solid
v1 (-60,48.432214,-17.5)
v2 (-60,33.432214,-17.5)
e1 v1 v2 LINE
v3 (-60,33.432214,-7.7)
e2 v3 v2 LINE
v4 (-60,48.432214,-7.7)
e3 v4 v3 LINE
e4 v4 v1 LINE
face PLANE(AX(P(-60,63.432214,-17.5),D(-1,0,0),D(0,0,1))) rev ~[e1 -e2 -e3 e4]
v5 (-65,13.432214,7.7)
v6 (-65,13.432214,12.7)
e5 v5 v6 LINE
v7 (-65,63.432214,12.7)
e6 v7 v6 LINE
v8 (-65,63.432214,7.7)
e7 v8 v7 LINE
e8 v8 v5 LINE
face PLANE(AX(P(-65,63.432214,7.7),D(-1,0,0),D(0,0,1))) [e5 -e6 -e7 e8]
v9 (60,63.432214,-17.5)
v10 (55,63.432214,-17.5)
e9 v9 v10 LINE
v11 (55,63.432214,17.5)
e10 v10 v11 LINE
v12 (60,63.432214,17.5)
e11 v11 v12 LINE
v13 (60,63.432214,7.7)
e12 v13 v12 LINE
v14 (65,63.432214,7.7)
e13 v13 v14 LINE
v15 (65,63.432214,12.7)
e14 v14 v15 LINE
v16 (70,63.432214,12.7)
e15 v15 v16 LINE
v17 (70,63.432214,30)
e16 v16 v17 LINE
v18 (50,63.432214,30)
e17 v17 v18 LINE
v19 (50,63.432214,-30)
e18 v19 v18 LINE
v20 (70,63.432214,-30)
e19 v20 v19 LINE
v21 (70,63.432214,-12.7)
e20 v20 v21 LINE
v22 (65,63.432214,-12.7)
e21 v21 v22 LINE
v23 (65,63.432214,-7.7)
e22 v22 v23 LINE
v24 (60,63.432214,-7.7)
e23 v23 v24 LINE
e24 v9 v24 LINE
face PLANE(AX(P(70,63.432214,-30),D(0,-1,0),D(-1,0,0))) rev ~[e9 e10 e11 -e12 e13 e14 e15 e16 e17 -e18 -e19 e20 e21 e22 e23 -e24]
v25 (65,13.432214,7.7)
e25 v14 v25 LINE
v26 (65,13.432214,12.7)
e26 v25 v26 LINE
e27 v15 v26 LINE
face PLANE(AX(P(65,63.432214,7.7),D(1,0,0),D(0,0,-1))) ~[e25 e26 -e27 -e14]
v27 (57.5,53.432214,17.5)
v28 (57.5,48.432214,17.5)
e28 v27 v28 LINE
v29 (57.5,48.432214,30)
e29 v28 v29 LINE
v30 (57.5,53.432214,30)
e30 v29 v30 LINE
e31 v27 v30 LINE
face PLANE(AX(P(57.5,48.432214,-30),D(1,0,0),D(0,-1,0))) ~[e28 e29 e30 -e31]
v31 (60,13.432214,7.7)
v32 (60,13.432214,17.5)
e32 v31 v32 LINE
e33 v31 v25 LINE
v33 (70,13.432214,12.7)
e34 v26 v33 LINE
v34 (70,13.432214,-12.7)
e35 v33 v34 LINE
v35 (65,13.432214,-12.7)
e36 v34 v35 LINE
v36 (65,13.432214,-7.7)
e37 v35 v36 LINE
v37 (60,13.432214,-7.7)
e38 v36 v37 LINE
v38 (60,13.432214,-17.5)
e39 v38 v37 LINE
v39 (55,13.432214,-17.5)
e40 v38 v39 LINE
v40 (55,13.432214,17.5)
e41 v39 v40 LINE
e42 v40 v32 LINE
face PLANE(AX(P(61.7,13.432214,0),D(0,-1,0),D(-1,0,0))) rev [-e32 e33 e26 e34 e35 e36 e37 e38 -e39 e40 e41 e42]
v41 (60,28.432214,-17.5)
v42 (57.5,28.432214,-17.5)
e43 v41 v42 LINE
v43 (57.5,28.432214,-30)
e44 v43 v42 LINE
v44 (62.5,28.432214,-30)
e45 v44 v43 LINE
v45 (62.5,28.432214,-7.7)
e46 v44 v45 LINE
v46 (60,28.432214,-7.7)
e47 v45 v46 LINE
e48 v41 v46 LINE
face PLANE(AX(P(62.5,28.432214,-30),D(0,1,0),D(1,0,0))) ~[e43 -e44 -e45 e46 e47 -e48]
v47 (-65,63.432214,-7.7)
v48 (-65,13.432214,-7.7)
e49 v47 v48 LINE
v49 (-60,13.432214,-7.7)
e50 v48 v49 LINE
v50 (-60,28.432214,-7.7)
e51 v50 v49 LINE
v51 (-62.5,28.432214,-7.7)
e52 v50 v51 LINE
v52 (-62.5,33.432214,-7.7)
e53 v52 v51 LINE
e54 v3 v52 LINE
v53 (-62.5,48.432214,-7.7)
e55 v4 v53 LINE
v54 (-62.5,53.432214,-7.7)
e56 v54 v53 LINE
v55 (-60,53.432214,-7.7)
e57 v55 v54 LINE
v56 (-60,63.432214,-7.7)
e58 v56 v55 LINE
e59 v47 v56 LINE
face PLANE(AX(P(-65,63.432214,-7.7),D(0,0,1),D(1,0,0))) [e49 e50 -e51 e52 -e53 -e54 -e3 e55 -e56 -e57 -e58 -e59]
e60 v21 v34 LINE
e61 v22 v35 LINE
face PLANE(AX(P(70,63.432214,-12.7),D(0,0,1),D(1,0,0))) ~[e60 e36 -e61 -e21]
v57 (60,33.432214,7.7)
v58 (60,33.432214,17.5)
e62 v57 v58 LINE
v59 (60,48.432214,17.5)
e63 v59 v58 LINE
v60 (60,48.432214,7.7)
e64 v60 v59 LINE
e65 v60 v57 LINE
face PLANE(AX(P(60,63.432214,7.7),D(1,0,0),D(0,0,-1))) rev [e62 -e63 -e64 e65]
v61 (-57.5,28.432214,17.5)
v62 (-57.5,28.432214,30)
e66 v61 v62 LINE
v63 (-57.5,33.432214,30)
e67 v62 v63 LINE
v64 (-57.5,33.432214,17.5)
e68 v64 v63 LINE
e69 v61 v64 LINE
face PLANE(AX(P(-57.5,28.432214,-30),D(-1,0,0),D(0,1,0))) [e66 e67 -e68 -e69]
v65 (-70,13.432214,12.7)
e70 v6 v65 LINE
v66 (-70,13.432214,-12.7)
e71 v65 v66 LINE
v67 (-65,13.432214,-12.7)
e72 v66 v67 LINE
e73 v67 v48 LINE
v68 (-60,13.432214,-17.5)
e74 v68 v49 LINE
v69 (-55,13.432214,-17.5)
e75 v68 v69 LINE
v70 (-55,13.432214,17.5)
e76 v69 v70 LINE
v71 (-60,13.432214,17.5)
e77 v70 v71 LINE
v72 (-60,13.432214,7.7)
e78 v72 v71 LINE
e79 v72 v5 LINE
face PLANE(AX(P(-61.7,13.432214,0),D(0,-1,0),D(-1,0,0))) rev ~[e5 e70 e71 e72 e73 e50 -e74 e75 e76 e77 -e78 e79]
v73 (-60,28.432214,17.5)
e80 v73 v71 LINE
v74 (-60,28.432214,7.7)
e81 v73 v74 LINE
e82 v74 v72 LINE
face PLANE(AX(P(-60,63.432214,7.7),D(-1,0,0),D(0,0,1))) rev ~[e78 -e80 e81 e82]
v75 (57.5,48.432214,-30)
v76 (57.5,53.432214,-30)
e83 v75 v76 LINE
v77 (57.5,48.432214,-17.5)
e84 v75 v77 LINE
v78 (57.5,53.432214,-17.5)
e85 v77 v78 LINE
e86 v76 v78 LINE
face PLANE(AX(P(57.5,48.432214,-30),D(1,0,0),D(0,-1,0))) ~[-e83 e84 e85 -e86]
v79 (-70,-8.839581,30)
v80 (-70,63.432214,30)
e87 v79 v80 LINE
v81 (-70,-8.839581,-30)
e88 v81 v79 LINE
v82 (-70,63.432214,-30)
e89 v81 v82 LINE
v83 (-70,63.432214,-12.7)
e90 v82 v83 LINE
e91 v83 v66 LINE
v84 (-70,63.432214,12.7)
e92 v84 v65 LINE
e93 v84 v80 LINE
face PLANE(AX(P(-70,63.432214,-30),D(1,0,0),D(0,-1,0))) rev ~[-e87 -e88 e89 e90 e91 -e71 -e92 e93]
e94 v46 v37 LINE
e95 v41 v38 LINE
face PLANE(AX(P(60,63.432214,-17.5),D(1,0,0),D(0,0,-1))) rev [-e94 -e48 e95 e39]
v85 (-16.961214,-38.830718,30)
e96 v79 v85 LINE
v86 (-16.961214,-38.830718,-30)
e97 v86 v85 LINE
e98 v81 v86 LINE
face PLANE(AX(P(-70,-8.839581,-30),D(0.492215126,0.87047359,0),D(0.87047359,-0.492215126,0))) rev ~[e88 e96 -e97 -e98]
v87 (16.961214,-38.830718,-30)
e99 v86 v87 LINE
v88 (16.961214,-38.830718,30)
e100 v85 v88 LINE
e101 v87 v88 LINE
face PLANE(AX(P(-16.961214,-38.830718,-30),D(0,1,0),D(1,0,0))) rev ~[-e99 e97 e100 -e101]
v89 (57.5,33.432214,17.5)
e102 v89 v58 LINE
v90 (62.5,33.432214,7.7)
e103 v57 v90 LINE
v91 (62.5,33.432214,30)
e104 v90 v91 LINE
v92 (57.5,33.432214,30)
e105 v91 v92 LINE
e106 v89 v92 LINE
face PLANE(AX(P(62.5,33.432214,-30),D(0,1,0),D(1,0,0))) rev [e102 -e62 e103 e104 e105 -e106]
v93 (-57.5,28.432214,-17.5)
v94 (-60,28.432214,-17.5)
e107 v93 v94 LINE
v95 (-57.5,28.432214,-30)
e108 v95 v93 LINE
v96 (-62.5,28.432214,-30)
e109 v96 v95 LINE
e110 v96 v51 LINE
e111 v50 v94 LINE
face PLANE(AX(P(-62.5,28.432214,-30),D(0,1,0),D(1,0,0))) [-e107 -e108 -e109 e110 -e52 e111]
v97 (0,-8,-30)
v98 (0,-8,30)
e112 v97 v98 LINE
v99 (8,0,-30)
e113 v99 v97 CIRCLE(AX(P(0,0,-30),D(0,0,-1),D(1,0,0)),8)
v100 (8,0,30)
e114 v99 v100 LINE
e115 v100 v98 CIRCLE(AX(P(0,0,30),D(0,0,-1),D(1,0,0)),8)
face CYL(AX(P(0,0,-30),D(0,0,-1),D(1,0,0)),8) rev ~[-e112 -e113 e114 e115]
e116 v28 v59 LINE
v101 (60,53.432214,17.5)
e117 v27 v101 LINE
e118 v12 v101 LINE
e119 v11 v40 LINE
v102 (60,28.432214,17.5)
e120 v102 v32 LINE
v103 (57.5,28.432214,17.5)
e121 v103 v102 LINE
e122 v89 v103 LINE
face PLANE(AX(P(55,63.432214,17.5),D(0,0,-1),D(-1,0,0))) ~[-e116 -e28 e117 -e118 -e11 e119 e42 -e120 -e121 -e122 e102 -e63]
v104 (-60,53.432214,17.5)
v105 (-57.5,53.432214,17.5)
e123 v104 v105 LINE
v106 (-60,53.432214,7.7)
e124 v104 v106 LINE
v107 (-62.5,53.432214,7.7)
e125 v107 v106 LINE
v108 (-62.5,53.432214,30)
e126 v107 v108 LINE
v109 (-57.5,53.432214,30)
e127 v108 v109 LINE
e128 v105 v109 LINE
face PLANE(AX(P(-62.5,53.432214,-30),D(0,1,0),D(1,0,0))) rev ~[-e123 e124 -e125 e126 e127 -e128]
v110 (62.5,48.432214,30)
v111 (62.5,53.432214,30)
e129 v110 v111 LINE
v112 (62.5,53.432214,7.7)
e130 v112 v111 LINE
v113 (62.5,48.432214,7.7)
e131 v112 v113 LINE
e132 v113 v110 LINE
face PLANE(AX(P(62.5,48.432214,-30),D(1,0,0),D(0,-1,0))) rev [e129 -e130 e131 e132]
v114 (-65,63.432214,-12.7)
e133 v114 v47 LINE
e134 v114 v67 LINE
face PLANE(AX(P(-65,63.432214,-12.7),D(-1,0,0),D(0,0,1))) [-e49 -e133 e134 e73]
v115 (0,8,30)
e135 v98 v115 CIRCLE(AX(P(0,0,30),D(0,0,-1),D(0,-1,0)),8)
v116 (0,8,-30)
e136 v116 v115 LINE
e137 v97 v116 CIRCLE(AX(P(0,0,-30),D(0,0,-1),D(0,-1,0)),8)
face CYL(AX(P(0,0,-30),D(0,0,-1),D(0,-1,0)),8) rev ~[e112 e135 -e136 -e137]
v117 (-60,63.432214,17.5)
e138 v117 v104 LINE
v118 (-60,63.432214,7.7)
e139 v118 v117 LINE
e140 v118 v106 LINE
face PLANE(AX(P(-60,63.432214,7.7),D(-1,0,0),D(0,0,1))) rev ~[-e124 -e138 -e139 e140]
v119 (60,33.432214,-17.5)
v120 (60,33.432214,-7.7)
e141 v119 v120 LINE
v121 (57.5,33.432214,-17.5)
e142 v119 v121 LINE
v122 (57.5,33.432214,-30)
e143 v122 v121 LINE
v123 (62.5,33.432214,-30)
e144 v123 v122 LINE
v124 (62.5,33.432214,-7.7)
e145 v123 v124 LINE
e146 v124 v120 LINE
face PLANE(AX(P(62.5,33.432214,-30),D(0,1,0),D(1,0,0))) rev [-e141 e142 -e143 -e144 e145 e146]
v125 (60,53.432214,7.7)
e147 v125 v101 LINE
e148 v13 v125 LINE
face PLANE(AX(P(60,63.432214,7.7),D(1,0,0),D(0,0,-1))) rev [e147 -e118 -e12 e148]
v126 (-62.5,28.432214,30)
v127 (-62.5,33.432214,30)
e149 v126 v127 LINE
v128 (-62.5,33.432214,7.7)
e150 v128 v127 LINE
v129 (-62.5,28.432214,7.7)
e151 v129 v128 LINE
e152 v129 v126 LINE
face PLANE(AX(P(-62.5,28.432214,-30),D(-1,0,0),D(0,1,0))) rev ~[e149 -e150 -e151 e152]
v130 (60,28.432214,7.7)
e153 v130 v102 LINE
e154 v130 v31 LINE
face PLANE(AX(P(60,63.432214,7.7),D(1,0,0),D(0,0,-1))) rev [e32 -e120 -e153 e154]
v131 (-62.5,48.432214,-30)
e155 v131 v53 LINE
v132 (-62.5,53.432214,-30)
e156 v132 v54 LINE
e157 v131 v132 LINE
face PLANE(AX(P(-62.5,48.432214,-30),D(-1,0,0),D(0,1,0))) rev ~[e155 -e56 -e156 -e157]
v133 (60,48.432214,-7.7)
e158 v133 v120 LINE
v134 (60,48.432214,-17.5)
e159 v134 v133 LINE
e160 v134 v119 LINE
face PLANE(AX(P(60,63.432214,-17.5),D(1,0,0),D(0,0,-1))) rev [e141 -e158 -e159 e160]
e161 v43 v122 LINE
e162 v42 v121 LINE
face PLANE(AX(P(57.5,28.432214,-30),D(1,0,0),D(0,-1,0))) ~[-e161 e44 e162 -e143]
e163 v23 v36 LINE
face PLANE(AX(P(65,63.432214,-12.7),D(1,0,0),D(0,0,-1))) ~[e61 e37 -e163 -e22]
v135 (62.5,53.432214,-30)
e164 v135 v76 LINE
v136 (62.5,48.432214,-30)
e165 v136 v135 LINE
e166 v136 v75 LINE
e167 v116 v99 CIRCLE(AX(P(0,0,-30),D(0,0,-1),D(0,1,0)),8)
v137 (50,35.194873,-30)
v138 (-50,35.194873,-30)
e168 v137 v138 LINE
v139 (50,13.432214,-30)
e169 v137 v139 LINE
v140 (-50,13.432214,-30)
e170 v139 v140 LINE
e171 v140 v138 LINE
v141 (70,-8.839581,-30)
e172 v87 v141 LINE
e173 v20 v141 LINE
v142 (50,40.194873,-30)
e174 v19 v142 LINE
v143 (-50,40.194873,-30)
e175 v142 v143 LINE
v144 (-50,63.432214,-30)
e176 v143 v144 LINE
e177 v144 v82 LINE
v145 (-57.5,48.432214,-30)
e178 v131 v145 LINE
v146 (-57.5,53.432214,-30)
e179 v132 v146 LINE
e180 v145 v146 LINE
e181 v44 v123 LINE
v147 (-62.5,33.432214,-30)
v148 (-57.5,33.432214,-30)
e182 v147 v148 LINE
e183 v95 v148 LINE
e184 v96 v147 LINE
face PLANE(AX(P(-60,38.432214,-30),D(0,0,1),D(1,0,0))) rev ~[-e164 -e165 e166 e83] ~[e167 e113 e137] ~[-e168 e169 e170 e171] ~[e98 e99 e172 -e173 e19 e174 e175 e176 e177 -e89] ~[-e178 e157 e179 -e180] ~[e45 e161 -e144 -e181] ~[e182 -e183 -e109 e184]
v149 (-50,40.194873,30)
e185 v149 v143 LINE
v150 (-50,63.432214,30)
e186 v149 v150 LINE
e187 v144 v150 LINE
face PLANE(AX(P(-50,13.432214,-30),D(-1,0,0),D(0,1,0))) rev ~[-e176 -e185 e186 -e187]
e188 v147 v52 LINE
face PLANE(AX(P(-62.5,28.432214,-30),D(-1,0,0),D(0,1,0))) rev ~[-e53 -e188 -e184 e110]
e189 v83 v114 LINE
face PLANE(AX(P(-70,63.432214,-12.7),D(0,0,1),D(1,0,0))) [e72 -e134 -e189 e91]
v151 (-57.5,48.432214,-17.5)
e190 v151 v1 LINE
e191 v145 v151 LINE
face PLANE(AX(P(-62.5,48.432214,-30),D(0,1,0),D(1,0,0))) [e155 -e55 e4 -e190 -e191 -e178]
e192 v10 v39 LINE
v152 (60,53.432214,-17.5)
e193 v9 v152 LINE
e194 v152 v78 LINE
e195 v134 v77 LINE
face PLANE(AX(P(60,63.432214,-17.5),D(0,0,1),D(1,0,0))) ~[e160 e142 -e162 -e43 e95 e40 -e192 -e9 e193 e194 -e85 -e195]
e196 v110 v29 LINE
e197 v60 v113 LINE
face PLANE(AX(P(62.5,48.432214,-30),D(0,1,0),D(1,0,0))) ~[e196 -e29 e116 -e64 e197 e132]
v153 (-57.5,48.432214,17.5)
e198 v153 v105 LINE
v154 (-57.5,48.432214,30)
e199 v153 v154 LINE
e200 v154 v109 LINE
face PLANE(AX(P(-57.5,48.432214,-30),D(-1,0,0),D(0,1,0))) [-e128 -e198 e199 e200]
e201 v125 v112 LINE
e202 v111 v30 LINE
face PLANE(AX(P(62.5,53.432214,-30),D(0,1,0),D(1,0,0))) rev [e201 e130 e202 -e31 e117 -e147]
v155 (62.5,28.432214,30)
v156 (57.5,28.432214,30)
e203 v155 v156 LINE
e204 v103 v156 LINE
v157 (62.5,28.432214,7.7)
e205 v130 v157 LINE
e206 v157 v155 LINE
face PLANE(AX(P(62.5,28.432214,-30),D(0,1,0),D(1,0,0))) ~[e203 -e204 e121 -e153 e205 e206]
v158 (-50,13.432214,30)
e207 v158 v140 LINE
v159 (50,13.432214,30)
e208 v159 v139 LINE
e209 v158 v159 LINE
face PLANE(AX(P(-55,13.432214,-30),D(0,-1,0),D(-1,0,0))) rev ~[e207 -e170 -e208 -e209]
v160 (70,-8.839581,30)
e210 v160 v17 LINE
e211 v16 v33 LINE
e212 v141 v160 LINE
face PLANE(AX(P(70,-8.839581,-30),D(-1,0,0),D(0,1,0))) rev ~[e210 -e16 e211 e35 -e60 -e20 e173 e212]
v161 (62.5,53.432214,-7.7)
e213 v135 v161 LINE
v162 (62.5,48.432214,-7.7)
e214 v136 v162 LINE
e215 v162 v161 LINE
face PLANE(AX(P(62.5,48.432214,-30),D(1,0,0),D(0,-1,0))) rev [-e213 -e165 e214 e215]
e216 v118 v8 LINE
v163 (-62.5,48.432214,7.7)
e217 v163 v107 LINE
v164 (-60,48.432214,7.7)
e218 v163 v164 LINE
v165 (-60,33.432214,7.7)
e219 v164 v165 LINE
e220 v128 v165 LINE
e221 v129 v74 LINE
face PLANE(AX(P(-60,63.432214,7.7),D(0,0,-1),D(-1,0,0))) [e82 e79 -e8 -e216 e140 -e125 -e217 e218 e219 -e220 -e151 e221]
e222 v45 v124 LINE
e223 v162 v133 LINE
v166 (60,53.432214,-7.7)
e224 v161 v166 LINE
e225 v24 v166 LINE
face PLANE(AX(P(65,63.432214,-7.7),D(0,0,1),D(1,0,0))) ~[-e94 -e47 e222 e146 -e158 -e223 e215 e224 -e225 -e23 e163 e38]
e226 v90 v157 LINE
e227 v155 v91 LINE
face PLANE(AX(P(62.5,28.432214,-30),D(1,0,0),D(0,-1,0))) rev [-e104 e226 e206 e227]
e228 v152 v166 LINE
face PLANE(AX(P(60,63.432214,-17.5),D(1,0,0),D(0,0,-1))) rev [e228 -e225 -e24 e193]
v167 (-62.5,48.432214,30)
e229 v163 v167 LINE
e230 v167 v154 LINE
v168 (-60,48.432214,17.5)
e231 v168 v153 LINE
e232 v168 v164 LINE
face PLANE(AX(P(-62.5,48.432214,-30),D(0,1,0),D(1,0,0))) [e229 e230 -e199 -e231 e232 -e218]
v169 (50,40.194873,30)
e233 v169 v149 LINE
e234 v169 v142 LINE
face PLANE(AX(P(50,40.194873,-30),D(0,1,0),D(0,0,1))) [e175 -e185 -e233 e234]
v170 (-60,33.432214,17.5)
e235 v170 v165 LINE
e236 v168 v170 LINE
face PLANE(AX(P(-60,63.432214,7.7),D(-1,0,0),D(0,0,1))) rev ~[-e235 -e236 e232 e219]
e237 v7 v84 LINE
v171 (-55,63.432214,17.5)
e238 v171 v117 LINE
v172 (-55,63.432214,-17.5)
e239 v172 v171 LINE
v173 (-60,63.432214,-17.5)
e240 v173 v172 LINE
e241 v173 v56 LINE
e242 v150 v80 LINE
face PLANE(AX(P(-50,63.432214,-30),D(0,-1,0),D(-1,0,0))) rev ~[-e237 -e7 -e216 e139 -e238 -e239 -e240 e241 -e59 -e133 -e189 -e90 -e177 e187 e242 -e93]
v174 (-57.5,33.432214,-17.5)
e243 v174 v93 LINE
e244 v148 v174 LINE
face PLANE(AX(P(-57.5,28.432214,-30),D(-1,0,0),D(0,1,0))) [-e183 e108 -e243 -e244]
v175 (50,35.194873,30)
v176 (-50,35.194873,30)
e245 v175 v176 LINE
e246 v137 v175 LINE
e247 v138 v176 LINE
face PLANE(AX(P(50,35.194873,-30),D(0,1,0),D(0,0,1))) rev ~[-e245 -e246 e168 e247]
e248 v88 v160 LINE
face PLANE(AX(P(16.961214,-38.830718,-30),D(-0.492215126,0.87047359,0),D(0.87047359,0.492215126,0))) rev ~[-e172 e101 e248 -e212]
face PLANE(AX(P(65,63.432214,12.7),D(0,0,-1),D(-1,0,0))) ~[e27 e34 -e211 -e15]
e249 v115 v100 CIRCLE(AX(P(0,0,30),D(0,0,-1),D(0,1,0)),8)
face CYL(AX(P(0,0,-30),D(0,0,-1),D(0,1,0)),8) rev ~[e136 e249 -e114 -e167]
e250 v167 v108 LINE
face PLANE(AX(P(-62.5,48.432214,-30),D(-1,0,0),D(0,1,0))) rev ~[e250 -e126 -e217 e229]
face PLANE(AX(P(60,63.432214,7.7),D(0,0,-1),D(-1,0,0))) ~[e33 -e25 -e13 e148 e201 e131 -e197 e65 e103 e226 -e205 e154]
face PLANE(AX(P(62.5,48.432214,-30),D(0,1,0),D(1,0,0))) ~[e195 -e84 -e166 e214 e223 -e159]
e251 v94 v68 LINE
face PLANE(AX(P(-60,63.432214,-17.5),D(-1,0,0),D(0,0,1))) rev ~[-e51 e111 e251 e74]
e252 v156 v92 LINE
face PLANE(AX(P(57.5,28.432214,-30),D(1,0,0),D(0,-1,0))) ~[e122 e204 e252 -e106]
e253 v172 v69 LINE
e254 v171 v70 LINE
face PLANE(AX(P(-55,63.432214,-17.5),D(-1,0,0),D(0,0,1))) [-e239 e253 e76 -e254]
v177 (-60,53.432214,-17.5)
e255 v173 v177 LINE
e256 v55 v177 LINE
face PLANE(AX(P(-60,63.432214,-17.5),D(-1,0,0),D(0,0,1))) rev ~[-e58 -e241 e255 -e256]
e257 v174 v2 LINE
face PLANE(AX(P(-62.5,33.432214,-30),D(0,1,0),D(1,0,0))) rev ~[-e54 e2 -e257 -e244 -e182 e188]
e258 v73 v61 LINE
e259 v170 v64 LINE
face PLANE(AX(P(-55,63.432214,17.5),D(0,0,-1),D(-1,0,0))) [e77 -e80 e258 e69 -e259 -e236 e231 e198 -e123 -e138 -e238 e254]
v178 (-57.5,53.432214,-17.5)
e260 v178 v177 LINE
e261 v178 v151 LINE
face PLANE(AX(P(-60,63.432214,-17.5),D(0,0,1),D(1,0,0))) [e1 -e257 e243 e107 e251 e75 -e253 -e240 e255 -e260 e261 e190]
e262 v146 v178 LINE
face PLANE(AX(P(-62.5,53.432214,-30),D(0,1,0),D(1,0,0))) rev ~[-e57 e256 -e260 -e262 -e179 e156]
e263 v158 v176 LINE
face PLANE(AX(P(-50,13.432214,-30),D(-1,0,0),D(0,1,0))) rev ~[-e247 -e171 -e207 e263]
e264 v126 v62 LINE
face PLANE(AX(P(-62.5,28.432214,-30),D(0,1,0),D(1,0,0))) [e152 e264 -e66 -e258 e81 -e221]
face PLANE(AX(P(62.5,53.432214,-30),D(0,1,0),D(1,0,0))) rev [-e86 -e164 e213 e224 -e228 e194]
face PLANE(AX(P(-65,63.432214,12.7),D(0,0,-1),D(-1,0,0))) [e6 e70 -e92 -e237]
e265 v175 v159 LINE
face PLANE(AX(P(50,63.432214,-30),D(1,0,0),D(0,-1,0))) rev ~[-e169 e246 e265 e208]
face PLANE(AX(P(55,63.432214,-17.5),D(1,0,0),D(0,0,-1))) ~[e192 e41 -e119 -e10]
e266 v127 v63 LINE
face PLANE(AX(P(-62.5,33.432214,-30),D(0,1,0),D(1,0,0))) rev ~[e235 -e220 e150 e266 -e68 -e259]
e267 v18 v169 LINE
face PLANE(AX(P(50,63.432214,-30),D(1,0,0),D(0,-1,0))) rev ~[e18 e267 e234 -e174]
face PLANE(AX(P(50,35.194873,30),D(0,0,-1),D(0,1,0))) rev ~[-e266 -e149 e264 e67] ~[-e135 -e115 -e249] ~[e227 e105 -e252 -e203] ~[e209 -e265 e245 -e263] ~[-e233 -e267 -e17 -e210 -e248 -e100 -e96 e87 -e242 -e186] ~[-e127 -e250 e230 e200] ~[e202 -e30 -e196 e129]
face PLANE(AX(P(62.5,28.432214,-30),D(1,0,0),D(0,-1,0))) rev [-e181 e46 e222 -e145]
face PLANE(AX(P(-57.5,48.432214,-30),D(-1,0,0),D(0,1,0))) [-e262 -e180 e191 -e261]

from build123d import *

# Parameters (mm, degrees)
BOSS_EXTRUDE2_DEPTH            = 30
BOSS_EXTRUDE2_DEPTH_BACK       = 30
EXTRUDE_THIN2_DEPTH            = 25
EXTRUDE_THIN2_DEPTH_BACK       = 25
SKETCH2_W                      = 60
SKETCH2_H                      = 5
BOSS_EXTRUDE3_DEPTH            = 100
BOSS_EXTRUDE4_DEPTH            = 30
BOSS_EXTRUDE4_DEPTH_BACK       = 30
CUT_EXTRUDE2_REACH             = 143.361
SKETCH4_W                      = 60
SKETCH4_H                      = 5
CUT_EXTRUDE2_DIRECTION_2_REACH = 143.361
BOSS_EXTRUDE5_DEPTH            = 30
BOSS_EXTRUDE5_DEPTH_BACK       = 30
DRONE_ARM_FIT_CUT_DEPTH        = 50
CUT_EXTRUDE3_START             = -60
SKETCH8_W                      = 5
SKETCH8_H                      = 5
CUT_EXTRUDE3_DEPTH             = 60


with BuildPart() as part:
    # Sketch1 → Boss-Extrude2 (new, two sides: drawn at the far end of the back side and taken through both)
    with BuildSketch(Plane.XY.offset(-BOSS_EXTRUDE2_DEPTH_BACK)):
        Polygon((-13.01396445, -23.830717844), (0, -23.830717844), (0, -18.830717844), (-11.698214449, -18.830717844), (-50, 2.827283512), (-50, 13.432214294), (-55, 13.432214294), (-55, -0.089432632), align=None)
        Polygon((0, -18.830717844), (0, -23.830717844), (13.01396445, -23.830717844), (55, -0.089432632), (55, 13.432214294), (50, 13.432214294), (50, 2.827283512), (11.698214449, -18.830717844), align=None)
        with BuildLine():
            Line((-11.698214449, -18.830717844), (0, -18.830717844))
            Line((0, -18.830717844), (0, -8))
            ThreePointArc((0, -8), (-8, 0), (0, 8))
            Line((0, 8), (0, 13.432214294))
            Line((0, 13.432214294), (-50, 13.432214294))
            Line((-50, 13.432214294), (-50, 2.827283512))
            Line((-50, 2.827283512), (-11.698214449, -18.830717844))
        make_face()
        with BuildLine():
            Line((0, -8), (0, -18.830717844))
            Line((0, -18.830717844), (11.698214449, -18.830717844))
            Line((11.698214449, -18.830717844), (50, 2.827283512))
            Line((50, 2.827283512), (50, 13.432214294))
            Line((50, 13.432214294), (0, 13.432214294))
            Line((0, 13.432214294), (0, 8))
            ThreePointArc((0, 8), (5.656854249, 5.656854249), (8, 0))
            ThreePointArc((8, 0), (5.656854249, -5.656854249), (0, -8))
        make_face()
    extrude(amount=BOSS_EXTRUDE2_DEPTH + BOSS_EXTRUDE2_DEPTH_BACK)

    # Sketch1<5> → Extrude-Thin2 (add, two sides: drawn at the far end of the back side and taken through both)
    with BuildSketch(Plane.XY.offset(-EXTRUDE_THIN2_DEPTH_BACK)):
        Polygon((50, 13.432214294), (50, 38.432214294), (50, 63.432214294), (-50, 63.432214294), (-50, 38.432214294), (-50, 13.432214294), (-55, 13.432214294), (-55, 38.432214294), (-55, 68.432214294), (55, 68.432214294), (55, 38.432214294), (55, 13.432214294), align=None)
    extrude(amount=EXTRUDE_THIN2_DEPTH + EXTRUDE_THIN2_DEPTH_BACK)

    # Sketch2 → Boss-Extrude3 (add)
    with BuildSketch(Plane.ZY.offset(-50)):
        with Locations((0, 37.694873029)):
            Rectangle(SKETCH2_W, SKETCH2_H)
    extrude(amount=BOSS_EXTRUDE3_DEPTH)

    # Sketch1<6> → Boss-Extrude4 (add, two sides: drawn at the far end of the back side and taken through both)
    with BuildSketch(Plane.XY.offset(-BOSS_EXTRUDE4_DEPTH_BACK)):
        Polygon((-55, -0.089432632), (-55, 13.432214294), (-70, 13.432214294), (-70, -8.839581066), (-16.961214453, -38.830717844), (16.961214453, -38.830717844), (70, -8.839581066), (70, 13.432214294), (55, 13.432214294), (55, -0.089432632), (13.01396445, -23.830717844), (-13.01396445, -23.830717844), align=None)
    extrude(amount=BOSS_EXTRUDE4_DEPTH + BOSS_EXTRUDE4_DEPTH_BACK)

    # Cut-Extrude2: up to this face of the body (flat: up to its plane)
    cut_extrude2_end = Plane(part.part.faces().sort_by_distance((-55, 40.932214294, 0))[0])
    # Sketch4 → Cut-Extrude2 (cut, up to the picked face)
    with BuildSketch(Plane(origin=(-50, 0, 0), x_dir=(0, 0, -1), z_dir=(1, 0, 0)), mode=Mode.PRIVATE) as cut_extrude2_sk1:
        with Locations((0, 65.932214294)):
            Rectangle(SKETCH4_W, SKETCH4_H)
    cut_extrude2_tool1 = split(extrude(cut_extrude2_sk1.sketch, amount=-CUT_EXTRUDE2_REACH, mode=Mode.PRIVATE), bisect_by=cut_extrude2_end, keep=Keep.BOTH, mode=Mode.PRIVATE)
    add(cut_extrude2_tool1.solids().sort_by(Axis((-50, 65.932214, 0), (-1, 0, 0)))[0], mode=Mode.SUBTRACT)

    # Cut-Extrude2 direction 2: up to this face of the body (flat: up to its plane)
    cut_extrude2_direction_2_end = Plane(part.part.faces().sort_by_distance((55, 40.932214294, 0))[0])
    # Sketch4 → Cut-Extrude2 direction 2 (cut, up to the picked face)
    with BuildSketch(Plane(origin=(-50, 0, 0), x_dir=(0, 0, -1), z_dir=(1, 0, 0)), mode=Mode.PRIVATE) as cut_extrude2_direction_2_sk1:
        with Locations((0, 65.932214294)):
            Rectangle(SKETCH4_W, SKETCH4_H)
    cut_extrude2_direction_2_tool1 = split(extrude(cut_extrude2_direction_2_sk1.sketch, amount=CUT_EXTRUDE2_DIRECTION_2_REACH, mode=Mode.PRIVATE), bisect_by=cut_extrude2_direction_2_end, keep=Keep.BOTH, mode=Mode.PRIVATE)
    add(cut_extrude2_direction_2_tool1.solids().sort_by(Axis((-50, 65.932214, 0), (1, 0, 0)))[0], mode=Mode.SUBTRACT)

    # Sketch1<7> → Boss-Extrude5 (add, two sides: drawn at the far end of the back side and taken through both)
    with BuildSketch(Plane.XY.offset(-BOSS_EXTRUDE5_DEPTH_BACK)):
        Polygon((-70, 13.432214294), (-55, 13.432214294), (-50, 13.432214294), (-50, 38.432214294), (-50, 63.432214294), (-70, 63.432214294), (-70, 38.432214294), align=None)
        Polygon((50, 38.432214294), (50, 13.432214294), (55, 13.432214294), (70, 13.432214294), (70, 38.432214294), (70, 63.432214294), (50, 63.432214294), align=None)
    extrude(amount=BOSS_EXTRUDE5_DEPTH + BOSS_EXTRUDE5_DEPTH_BACK)

    # Sketch7 → Drone Arm fit cut (cut)
    with BuildSketch(Plane(origin=(0, 63.432214294, 0), x_dir=(1, 0, 0), z_dir=(0, 1, 0))):
        Polygon((-70, -12.7), (-70, 12.7), (-65, 12.7), (-65, 7.7), (-60, 7.7), (-60, 12.7), (-60, 17.5), (-55, 17.5), (-55, -17.5), (-60, -17.5), (-60, -12.7), (-60, -7.7), (-65, -7.7), (-65, -12.7), align=None)
    drone_arm_fit_cut = extrude(amount=-DRONE_ARM_FIT_CUT_DEPTH, mode=Mode.SUBTRACT)

    # Mirror Drone arm fit cut: Drone Arm fit cut across plane
    add(drone_arm_fit_cut.mirror(Plane(origin=(0, 0, 0), x_dir=(0, 0, 1), z_dir=(1, 0, 0))), mode=Mode.SUBTRACT)

    # Sketch8 → Cut-Extrude3 (cut)
    with BuildSketch(Plane.XY.offset(30).offset(CUT_EXTRUDE3_START)):
        with Locations((-60, 50.932214294)):
            Rectangle(SKETCH8_W, SKETCH8_H)
        with Locations((-60, 30.932214294)):
            Rectangle(SKETCH8_W, SKETCH8_H)
    cut_extrude3 = extrude(amount=CUT_EXTRUDE3_DEPTH, mode=Mode.SUBTRACT)

    # Mirror1: Cut-Extrude3 across plane
    add(cut_extrude3.mirror(Plane(origin=(0, 0, 0), x_dir=(0, 0, 1), z_dir=(1, 0, 0))), mode=Mode.SUBTRACT)


solid = part.part
